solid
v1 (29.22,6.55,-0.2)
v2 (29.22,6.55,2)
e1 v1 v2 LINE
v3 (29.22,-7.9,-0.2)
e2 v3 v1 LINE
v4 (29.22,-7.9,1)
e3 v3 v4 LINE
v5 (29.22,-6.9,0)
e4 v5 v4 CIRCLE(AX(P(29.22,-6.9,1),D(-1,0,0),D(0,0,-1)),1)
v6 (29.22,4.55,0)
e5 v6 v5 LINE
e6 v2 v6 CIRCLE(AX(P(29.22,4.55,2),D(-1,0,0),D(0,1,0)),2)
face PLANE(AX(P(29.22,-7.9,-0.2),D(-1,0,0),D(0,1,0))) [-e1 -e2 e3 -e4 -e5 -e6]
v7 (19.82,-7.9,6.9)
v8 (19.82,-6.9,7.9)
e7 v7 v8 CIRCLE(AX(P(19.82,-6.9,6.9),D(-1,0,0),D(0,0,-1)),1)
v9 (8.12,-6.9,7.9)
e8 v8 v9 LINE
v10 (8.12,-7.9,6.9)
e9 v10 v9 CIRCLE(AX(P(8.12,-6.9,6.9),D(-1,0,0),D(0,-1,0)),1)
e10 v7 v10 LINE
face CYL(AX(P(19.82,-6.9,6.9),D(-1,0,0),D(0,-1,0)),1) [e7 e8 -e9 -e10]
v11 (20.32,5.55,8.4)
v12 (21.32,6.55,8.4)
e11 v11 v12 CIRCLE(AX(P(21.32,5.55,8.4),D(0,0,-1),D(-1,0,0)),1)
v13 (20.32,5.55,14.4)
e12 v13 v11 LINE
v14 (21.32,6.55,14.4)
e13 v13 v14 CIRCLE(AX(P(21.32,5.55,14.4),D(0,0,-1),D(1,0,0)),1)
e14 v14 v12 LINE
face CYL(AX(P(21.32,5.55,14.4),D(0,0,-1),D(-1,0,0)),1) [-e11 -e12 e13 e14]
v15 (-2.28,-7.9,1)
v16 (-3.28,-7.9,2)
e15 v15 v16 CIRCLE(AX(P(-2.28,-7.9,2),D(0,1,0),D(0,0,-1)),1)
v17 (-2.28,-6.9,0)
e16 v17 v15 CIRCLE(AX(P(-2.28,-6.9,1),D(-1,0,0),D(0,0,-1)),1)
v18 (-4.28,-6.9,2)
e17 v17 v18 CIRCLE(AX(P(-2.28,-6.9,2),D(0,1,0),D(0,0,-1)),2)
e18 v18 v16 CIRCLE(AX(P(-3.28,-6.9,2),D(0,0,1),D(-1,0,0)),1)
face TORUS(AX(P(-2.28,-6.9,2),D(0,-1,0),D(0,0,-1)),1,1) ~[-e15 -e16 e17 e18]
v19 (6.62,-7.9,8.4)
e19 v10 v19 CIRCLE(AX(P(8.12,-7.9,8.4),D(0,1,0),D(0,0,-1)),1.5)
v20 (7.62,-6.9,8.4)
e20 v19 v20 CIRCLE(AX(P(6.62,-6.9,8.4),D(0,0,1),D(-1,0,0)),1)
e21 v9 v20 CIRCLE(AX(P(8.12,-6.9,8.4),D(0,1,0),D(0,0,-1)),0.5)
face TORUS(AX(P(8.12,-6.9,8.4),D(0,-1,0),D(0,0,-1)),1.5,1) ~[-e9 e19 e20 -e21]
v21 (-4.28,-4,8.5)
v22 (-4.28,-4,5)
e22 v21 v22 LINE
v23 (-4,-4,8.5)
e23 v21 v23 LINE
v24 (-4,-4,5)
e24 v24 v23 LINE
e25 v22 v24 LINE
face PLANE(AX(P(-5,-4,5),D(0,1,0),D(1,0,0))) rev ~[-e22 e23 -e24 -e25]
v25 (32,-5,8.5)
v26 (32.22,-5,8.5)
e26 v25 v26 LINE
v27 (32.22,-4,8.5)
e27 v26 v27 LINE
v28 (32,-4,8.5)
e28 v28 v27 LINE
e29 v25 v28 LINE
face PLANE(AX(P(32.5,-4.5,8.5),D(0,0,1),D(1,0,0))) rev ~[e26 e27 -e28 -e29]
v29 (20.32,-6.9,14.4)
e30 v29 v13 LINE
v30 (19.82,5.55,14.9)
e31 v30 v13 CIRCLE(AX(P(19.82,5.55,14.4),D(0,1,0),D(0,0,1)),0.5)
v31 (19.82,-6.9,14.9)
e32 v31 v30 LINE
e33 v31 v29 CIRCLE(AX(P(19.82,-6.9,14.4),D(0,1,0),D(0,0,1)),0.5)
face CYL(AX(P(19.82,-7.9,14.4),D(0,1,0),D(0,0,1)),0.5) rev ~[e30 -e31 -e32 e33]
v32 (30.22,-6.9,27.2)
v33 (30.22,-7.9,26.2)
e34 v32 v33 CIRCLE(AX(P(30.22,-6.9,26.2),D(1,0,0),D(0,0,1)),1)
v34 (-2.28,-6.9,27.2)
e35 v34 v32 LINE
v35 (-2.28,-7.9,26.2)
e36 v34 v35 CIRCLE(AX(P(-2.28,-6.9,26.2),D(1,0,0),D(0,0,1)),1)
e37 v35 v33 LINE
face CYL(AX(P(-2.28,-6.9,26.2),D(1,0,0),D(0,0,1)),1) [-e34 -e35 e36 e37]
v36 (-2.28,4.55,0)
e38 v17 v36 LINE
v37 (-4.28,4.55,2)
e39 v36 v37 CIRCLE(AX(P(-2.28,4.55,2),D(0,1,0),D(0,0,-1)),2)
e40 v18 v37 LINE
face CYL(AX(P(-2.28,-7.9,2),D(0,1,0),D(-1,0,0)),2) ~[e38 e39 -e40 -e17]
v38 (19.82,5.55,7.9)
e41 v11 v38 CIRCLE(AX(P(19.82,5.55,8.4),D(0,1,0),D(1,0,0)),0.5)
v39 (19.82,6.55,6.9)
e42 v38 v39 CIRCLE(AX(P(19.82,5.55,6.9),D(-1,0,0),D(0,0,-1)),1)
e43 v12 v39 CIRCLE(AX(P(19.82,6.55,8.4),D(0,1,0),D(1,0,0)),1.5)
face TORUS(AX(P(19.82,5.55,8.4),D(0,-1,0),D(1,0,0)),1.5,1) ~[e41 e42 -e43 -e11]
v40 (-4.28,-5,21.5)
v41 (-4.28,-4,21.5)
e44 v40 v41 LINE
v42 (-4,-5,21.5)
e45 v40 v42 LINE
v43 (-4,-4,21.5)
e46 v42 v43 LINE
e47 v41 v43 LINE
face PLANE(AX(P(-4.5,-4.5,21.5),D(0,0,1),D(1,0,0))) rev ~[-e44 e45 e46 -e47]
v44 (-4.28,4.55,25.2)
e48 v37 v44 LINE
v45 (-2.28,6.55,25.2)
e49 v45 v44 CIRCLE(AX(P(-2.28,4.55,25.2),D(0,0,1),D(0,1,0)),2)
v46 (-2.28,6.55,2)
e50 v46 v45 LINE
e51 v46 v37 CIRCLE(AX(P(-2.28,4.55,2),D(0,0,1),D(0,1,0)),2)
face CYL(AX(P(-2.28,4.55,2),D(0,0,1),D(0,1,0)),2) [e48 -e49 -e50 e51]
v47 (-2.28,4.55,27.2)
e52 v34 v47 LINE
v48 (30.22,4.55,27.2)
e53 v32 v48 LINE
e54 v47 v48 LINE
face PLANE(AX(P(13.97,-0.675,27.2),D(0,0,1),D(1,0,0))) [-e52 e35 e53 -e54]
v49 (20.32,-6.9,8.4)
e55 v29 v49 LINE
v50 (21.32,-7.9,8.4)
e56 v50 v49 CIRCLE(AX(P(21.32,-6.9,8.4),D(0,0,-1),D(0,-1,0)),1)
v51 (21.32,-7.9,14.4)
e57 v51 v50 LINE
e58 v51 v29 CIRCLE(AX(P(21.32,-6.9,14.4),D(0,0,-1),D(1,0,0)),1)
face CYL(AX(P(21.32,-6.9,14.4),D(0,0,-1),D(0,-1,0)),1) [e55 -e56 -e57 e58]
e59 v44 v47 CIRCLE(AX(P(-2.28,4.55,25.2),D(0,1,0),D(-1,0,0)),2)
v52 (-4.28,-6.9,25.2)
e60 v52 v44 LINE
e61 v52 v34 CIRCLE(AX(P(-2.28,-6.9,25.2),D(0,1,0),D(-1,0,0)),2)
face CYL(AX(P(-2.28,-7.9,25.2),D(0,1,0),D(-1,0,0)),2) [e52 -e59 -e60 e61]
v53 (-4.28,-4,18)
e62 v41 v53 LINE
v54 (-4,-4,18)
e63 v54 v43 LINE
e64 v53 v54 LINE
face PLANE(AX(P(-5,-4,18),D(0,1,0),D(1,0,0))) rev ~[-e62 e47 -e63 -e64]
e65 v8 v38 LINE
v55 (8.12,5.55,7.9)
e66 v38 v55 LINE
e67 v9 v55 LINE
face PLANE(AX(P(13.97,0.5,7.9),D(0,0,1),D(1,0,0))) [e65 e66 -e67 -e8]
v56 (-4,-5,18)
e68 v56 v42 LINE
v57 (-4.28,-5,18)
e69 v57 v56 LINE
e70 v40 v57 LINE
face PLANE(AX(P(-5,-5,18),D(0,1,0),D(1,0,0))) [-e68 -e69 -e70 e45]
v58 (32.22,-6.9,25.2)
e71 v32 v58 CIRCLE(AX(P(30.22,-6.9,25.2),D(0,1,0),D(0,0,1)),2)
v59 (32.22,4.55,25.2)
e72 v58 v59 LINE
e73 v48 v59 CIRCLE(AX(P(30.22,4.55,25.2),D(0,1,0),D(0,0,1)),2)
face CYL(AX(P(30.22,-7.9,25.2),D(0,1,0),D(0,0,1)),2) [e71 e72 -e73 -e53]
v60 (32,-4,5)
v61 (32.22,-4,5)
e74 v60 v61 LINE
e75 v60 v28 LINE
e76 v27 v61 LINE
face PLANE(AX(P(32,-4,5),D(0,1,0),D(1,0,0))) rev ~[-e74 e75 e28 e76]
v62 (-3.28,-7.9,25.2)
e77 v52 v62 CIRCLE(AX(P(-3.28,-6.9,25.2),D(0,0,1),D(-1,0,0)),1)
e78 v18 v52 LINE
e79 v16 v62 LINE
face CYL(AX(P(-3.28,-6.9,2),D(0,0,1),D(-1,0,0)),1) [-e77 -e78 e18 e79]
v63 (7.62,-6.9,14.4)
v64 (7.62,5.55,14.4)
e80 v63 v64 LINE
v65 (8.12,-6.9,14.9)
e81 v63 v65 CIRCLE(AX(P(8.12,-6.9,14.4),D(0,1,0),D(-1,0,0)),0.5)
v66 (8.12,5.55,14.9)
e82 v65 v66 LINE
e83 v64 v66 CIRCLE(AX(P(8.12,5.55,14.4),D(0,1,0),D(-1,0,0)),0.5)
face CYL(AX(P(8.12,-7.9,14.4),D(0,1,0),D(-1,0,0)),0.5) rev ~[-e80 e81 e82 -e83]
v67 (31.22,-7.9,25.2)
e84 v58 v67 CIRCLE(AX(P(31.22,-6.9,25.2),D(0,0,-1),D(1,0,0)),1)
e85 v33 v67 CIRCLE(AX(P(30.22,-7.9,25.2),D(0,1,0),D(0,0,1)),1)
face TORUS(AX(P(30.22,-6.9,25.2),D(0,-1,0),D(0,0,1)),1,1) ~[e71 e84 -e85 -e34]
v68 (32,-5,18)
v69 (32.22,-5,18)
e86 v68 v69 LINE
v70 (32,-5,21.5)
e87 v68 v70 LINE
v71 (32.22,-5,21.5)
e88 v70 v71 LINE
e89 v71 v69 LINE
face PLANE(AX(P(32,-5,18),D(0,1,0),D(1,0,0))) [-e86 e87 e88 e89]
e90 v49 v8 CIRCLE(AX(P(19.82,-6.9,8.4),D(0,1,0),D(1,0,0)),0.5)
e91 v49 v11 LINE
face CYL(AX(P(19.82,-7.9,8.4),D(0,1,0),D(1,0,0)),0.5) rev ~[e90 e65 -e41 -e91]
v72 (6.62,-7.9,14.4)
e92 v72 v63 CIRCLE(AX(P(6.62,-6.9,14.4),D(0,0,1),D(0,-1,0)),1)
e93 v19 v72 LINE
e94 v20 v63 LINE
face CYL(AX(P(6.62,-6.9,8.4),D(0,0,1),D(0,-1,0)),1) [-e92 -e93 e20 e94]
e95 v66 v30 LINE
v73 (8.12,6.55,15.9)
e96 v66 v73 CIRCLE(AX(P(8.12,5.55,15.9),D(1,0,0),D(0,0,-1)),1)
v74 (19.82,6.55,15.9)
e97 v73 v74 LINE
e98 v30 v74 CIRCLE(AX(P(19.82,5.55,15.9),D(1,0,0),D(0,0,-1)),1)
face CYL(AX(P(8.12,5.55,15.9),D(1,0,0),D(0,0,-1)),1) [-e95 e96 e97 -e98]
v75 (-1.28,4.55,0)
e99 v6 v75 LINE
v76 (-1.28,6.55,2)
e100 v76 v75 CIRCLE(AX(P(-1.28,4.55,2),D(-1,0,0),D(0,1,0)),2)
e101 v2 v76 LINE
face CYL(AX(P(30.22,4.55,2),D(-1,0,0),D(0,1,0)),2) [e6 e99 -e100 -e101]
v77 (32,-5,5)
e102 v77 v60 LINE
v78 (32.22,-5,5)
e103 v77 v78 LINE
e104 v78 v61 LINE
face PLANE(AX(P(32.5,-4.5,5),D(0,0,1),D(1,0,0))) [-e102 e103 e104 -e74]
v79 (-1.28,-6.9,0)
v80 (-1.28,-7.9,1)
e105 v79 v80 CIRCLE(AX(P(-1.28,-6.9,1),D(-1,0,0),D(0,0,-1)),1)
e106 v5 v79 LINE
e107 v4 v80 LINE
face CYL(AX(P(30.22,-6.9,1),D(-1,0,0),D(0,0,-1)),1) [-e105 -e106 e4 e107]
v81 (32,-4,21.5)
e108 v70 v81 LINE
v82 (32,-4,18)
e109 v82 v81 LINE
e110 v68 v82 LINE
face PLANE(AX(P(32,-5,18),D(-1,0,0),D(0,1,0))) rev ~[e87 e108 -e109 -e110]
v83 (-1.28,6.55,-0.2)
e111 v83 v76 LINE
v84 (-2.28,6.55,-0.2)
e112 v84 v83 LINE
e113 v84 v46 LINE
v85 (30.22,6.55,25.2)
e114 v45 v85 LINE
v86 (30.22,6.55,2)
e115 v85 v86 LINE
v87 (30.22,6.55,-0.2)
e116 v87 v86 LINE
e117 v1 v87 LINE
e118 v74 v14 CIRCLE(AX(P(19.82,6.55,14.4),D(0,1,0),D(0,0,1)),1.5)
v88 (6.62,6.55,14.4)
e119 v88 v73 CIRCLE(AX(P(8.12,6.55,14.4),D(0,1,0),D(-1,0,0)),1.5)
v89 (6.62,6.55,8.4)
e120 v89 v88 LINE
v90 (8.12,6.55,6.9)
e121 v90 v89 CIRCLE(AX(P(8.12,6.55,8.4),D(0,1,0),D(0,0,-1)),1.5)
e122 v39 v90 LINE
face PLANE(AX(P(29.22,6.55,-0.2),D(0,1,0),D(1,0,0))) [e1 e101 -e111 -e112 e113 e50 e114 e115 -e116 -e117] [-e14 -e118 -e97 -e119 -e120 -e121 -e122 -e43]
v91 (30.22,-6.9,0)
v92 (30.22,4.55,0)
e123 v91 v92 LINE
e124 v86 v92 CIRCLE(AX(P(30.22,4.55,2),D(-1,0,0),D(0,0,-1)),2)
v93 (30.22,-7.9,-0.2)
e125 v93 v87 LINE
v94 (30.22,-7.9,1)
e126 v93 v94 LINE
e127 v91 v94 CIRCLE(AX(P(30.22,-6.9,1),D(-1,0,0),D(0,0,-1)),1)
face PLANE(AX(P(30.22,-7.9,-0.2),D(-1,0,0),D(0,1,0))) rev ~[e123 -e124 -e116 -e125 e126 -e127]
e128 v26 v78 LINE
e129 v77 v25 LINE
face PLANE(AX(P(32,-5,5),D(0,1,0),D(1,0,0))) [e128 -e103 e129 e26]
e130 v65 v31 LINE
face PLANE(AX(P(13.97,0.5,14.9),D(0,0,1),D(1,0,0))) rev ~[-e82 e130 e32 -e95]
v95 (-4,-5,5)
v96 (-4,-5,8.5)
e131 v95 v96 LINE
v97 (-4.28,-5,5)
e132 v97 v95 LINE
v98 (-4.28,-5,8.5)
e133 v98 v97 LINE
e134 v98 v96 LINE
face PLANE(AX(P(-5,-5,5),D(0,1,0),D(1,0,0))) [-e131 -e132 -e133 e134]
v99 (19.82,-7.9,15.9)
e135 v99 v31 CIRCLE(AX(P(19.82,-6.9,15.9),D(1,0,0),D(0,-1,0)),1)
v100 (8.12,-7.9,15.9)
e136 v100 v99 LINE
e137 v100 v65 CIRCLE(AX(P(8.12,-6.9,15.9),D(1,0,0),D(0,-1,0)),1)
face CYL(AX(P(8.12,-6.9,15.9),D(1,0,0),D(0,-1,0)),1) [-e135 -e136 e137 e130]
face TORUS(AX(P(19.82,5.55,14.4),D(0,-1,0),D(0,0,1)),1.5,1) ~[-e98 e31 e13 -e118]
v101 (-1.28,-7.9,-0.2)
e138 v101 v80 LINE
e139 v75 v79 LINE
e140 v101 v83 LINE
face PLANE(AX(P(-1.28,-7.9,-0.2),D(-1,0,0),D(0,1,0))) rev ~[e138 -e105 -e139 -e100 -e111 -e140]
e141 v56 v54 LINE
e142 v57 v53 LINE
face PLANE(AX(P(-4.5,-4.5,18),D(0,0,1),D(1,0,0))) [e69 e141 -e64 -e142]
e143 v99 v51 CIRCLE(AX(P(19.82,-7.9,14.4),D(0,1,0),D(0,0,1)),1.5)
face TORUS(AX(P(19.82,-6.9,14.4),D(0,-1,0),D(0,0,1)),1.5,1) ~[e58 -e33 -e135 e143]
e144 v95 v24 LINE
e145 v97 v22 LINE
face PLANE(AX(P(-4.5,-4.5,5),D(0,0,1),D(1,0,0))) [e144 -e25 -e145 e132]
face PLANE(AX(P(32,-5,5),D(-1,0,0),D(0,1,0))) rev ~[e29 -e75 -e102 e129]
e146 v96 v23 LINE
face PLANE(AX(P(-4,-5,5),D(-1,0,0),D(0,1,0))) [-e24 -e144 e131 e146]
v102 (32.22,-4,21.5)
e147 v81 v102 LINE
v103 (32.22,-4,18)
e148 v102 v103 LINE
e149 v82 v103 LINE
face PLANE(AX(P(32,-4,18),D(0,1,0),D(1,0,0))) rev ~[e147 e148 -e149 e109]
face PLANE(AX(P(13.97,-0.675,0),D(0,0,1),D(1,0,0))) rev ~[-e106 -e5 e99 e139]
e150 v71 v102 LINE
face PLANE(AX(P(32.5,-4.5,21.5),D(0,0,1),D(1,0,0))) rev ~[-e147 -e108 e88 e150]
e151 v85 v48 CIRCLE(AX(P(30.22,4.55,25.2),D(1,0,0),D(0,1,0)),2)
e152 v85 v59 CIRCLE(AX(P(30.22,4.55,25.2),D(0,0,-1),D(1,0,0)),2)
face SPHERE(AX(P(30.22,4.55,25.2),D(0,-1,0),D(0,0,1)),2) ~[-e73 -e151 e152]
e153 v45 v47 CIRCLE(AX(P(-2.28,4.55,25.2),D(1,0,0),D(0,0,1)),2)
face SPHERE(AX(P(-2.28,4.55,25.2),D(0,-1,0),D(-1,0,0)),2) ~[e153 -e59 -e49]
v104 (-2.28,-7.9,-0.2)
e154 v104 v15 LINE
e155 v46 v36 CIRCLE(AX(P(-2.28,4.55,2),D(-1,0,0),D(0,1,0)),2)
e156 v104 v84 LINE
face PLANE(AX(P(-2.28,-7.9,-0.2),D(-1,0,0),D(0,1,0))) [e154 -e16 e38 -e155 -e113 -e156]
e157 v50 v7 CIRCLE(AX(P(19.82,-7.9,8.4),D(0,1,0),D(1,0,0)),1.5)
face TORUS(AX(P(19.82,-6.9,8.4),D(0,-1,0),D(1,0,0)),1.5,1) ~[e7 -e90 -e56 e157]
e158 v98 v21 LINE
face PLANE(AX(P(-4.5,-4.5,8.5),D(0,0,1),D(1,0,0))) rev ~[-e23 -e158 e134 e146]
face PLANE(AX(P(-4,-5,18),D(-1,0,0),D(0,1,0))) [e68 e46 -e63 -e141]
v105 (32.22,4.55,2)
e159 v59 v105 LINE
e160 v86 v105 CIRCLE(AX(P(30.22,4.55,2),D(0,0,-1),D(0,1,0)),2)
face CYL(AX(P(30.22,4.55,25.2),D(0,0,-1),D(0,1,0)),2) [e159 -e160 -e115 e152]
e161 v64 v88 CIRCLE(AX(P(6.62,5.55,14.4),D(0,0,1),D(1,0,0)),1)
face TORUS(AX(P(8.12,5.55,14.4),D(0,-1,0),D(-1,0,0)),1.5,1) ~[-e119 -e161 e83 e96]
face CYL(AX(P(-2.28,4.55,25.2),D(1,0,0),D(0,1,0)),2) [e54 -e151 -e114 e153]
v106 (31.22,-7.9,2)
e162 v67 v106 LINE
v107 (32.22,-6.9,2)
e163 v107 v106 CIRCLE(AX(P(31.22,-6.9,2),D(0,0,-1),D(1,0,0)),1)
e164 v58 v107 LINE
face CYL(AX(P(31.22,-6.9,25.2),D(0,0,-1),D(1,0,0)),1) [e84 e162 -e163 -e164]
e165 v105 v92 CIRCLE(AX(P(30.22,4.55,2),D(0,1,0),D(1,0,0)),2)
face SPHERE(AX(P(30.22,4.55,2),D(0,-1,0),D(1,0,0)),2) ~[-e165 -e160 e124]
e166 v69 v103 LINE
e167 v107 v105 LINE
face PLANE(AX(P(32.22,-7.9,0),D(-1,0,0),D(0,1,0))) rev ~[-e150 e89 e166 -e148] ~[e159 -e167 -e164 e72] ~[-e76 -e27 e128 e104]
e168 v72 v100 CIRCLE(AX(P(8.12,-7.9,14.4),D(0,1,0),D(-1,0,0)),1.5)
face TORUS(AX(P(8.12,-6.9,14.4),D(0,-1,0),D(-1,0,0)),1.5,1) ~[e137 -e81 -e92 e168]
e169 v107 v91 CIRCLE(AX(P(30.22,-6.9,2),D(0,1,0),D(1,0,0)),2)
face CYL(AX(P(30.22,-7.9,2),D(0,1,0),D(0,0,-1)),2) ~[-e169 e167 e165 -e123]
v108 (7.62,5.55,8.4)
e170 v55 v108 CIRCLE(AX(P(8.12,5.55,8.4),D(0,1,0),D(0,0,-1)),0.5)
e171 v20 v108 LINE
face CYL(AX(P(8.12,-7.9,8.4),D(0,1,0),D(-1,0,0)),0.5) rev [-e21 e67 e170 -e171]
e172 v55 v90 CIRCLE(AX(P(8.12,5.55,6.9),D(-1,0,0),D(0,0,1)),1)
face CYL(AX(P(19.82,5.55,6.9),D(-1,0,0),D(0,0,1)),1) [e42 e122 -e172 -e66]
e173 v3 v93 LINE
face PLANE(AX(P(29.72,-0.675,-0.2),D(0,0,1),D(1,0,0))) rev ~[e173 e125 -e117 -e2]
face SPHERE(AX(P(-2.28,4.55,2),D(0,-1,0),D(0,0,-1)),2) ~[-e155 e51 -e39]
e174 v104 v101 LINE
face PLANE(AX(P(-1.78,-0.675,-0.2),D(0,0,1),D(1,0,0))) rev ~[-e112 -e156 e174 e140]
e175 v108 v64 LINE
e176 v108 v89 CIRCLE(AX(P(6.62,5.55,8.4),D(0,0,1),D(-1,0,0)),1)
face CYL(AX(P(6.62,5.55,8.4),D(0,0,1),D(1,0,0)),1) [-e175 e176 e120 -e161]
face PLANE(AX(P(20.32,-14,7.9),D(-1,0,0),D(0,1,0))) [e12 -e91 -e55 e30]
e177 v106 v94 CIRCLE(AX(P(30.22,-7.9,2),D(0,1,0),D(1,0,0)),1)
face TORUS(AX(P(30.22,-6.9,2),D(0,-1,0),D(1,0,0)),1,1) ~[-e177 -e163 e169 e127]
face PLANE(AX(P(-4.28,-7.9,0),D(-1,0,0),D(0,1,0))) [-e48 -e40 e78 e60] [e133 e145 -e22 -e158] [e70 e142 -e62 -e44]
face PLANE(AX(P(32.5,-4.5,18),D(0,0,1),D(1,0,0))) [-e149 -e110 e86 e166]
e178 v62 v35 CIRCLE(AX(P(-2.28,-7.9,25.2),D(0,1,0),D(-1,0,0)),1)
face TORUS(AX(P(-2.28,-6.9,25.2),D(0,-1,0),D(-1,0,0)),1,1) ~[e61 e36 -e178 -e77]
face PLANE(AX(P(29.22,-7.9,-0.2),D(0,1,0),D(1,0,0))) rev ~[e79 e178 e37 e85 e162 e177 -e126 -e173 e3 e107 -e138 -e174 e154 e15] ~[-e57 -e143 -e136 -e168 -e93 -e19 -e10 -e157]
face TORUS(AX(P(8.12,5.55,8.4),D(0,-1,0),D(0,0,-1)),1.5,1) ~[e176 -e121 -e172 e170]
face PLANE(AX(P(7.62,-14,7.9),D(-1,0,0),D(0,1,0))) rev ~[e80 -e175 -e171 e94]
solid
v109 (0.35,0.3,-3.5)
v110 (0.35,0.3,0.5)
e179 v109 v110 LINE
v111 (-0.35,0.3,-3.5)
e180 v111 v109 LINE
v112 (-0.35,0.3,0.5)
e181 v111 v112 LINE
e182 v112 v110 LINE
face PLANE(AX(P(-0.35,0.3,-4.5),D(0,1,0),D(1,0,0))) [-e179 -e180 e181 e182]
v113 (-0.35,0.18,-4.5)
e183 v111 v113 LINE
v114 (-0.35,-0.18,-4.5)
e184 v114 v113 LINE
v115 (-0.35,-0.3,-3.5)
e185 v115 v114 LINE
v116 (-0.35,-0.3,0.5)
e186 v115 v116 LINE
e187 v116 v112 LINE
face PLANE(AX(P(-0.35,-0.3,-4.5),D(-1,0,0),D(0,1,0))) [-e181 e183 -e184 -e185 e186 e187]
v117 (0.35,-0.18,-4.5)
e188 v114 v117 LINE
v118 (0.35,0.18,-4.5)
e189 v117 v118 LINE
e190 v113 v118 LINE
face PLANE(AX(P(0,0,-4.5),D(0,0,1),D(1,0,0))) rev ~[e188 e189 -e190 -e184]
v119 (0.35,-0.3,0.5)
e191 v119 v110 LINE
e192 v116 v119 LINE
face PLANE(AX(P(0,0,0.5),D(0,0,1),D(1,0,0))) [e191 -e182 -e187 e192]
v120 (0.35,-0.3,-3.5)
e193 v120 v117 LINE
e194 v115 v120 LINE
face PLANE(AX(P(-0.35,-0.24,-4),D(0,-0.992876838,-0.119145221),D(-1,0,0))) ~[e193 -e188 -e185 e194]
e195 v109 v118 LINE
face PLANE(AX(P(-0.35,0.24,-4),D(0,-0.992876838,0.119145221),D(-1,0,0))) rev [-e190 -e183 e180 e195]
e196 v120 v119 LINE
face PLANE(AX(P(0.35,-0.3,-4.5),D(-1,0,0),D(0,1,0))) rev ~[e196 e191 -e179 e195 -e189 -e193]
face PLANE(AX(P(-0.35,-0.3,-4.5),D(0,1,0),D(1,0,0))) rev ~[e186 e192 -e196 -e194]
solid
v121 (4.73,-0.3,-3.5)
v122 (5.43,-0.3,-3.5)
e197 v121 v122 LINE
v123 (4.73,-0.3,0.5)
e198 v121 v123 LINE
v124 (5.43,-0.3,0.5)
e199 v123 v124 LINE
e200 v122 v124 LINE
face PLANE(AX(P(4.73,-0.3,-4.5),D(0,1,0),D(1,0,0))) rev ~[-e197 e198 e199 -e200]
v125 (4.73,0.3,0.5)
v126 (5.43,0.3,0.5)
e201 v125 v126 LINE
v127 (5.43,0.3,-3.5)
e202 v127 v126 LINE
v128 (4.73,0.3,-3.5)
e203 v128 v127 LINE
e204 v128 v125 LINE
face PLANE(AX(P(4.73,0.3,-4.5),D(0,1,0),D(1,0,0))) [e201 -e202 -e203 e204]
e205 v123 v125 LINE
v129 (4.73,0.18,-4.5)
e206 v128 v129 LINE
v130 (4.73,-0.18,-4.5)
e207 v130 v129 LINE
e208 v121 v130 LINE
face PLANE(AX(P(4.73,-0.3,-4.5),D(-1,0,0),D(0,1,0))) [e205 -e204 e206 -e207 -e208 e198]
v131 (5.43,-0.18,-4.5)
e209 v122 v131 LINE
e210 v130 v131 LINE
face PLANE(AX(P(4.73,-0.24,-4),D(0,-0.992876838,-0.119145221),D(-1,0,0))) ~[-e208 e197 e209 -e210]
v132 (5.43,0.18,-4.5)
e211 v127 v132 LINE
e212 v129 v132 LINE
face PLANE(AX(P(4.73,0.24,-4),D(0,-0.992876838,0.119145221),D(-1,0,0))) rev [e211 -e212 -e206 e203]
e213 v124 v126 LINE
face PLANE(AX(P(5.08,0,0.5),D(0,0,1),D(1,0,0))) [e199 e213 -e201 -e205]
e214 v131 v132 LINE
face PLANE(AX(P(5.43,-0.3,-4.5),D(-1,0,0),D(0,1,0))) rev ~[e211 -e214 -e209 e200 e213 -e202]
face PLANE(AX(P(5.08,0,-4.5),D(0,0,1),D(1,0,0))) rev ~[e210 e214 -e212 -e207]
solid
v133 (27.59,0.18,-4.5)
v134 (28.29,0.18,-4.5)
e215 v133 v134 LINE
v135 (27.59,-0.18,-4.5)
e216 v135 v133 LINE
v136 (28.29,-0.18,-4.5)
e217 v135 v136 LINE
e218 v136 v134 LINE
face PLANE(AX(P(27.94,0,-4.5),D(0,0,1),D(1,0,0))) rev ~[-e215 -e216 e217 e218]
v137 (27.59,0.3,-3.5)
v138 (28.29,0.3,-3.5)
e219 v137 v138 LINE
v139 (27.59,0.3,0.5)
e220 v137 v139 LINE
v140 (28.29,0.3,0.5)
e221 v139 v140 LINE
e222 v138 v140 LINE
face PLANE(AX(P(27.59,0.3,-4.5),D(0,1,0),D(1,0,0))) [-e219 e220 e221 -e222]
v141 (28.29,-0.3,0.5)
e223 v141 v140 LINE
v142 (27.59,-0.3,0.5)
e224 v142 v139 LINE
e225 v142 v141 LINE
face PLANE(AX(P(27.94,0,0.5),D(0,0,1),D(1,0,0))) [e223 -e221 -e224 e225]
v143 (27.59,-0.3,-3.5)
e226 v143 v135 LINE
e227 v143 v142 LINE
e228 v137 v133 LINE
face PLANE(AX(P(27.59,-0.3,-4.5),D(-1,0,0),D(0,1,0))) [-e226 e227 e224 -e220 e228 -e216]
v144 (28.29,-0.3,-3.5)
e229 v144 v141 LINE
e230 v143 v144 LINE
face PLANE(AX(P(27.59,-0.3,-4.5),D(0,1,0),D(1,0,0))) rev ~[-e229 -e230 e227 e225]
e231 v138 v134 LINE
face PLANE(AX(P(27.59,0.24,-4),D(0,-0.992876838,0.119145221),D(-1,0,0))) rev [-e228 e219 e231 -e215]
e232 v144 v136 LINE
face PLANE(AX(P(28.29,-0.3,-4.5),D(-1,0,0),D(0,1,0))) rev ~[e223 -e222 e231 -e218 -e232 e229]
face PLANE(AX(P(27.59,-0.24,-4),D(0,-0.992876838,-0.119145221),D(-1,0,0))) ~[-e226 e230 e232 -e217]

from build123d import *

# Parameters (mm, degrees)
BOX002_W           = 0.7
BOX002_H           = 0.6
BOX002_DEPTH       = 5
CHAMFER_1_SIZE2    = 0.12
CHAMFER_1_SIZE     = 1
CHAMFER_2_SIZE2    = 0.12
CHAMFER_2_SIZE     = 1
BOX001_W           = 0.7
BOX001_H           = 0.6
BOX001_DEPTH       = 5
CHAMFER001_1_SIZE2 = 0.12
CHAMFER001_1_SIZE  = 1
CHAMFER001_2_SIZE2 = 0.12
CHAMFER001_2_SIZE  = 1
BOX_W              = 0.7
BOX_H              = 0.6
BOX_DEPTH          = 5
CHAMFER002_1_SIZE2 = 0.12
CHAMFER002_1_SIZE  = 1
CHAMFER002_2_SIZE2 = 0.12
CHAMFER002_2_SIZE  = 1
BOX009_W           = 1
BOX009_H           = 1
BOX009_DEPTH       = 3.5
BOX008_W           = 1
BOX008_H           = 1
BOX008_DEPTH       = 3.5
BOX007_W           = 1
BOX007_H           = 1
BOX007_DEPTH       = 3.5
BOX006_W           = 1
BOX006_H           = 1
BOX006_DEPTH       = 3.5
BOX004_W           = 1
BOX004_H           = 14.45
BOX004_DEPTH       = 2.2
BOX005_W           = 1
BOX005_H           = 14.45
BOX005_DEPTH       = 2.2
BOX003_W           = 12.7
BOX003_H           = 29
BOX003_DEPTH       = 7
SKETCH_W           = 36.5
SKETCH_H           = 14.45
PAD_DEPTH          = 27.2
FILLET_R           = 0.5
FILLET001_R        = 1
FILLET002_R        = 1
FILLET003_R        = 2
FILLET004_R        = 2
FILLET005_R        = 1


with BuildPart() as chamfer_body:
    # Box002 → Box002 (new body)
    with BuildSketch(Plane(origin=(27.59, -0.3, -4.5), x_dir=(1, 0, 0), z_dir=(0, 0, 1))):
        with Locations((0.35, 0.3)):
            Rectangle(BOX002_W, BOX002_H)
    extrude(amount=BOX002_DEPTH)

    # Chamfer 1
    chamfer_1_edges = [chamfer_body.edges().sort_by_distance(p)[0] for p in [
        (27.94, 0.3, -4.5),
    ]]
    chamfer_1_side = chamfer_body.faces().sort_by_distance((27.94, 0.3, -2))[0]
    chamfer(chamfer_1_edges, length=CHAMFER_1_SIZE, length2=CHAMFER_1_SIZE2, reference=chamfer_1_side)

    # Chamfer 2
    chamfer_2_edges = [chamfer_body.edges().sort_by_distance(p)[0] for p in [
        (27.94, -0.3, -4.5),
    ]]
    chamfer_2_side = chamfer_body.faces().sort_by_distance((27.94, -0.3, -2))[0]
    chamfer(chamfer_2_edges, length=CHAMFER_2_SIZE, length2=CHAMFER_2_SIZE2, reference=chamfer_2_side)


with BuildPart() as chamfer001:
    # Box001 → Box001 (new body)
    with BuildSketch(Plane(origin=(4.73, -0.3, -4.5), x_dir=(1, 0, 0), z_dir=(0, 0, 1))):
        with Locations((0.35, 0.3)):
            Rectangle(BOX001_W, BOX001_H)
    extrude(amount=BOX001_DEPTH)

    # Chamfer001 1
    chamfer001_1_edges = [chamfer001.edges().sort_by_distance(p)[0] for p in [
        (5.08, 0.3, -4.5),
    ]]
    chamfer001_1_side = chamfer001.faces().sort_by_distance((5.08, 0.3, -2))[0]
    chamfer(chamfer001_1_edges, length=CHAMFER001_1_SIZE, length2=CHAMFER001_1_SIZE2, reference=chamfer001_1_side)

    # Chamfer001 2
    chamfer001_2_edges = [chamfer001.edges().sort_by_distance(p)[0] for p in [
        (5.08, -0.3, -4.5),
    ]]
    chamfer001_2_side = chamfer001.faces().sort_by_distance((5.08, -0.3, -2))[0]
    chamfer(chamfer001_2_edges, length=CHAMFER001_2_SIZE, length2=CHAMFER001_2_SIZE2, reference=chamfer001_2_side)


with BuildPart() as chamfer002:
    # Box → Box (new body)
    with BuildSketch(Plane(origin=(-0.35, -0.3, -4.5), x_dir=(1, 0, 0), z_dir=(0, 0, 1))):
        with Locations((0.35, 0.3)):
            Rectangle(BOX_W, BOX_H)
    extrude(amount=BOX_DEPTH)

    # Chamfer002 1
    chamfer002_1_edges = [chamfer002.edges().sort_by_distance(p)[0] for p in [
        (0, 0.3, -4.5),
    ]]
    chamfer002_1_side = chamfer002.faces().sort_by_distance((0, 0.3, -2))[0]
    chamfer(chamfer002_1_edges, length=CHAMFER002_1_SIZE, length2=CHAMFER002_1_SIZE2, reference=chamfer002_1_side)

    # Chamfer002 2
    chamfer002_2_edges = [chamfer002.edges().sort_by_distance(p)[0] for p in [
        (0, -0.3, -4.5),
    ]]
    chamfer002_2_side = chamfer002.faces().sort_by_distance((0, -0.3, -2))[0]
    chamfer(chamfer002_2_edges, length=CHAMFER002_2_SIZE, length2=CHAMFER002_2_SIZE2, reference=chamfer002_2_side)


with BuildPart() as kub009:
    # Box009 → Box009 (new body)
    with BuildSketch(Plane(origin=(-5, -5, 18), x_dir=(1, 0, 0), z_dir=(0, 0, 1))):
        with Locations((0.5, 0.5)):
            Rectangle(BOX009_W, BOX009_H)
    extrude(amount=BOX009_DEPTH)


with BuildPart() as kub008:
    # Box008 → Box008 (new body)
    with BuildSketch(Plane(origin=(-5, -5, 5), x_dir=(1, 0, 0), z_dir=(0, 0, 1))):
        with Locations((0.5, 0.5)):
            Rectangle(BOX008_W, BOX008_H)
    extrude(amount=BOX008_DEPTH)


with BuildPart() as kub007:
    # Box007 → Box007 (new body)
    with BuildSketch(Plane(origin=(32, -5, 18), x_dir=(1, 0, 0), z_dir=(0, 0, 1))):
        with Locations((0.5, 0.5)):
            Rectangle(BOX007_W, BOX007_H)
    extrude(amount=BOX007_DEPTH)


with BuildPart() as kub006:
    # Box006 → Box006 (new body)
    with BuildSketch(Plane(origin=(32, -5, 5), x_dir=(1, 0, 0), z_dir=(0, 0, 1))):
        with Locations((0.5, 0.5)):
            Rectangle(BOX006_W, BOX006_H)
    extrude(amount=BOX006_DEPTH)


with BuildPart() as kub004:
    # Box004 → Box004 (new body)
    with BuildSketch(Plane(origin=(-2.28, -7.9, -0.2), x_dir=(1, 0, 0), z_dir=(0, 0, 1))):
        with Locations((0.5, 7.225)):
            Rectangle(BOX004_W, BOX004_H)
    extrude(amount=BOX004_DEPTH)


with BuildPart() as kub005:
    # Box005 → Box005 (new body)
    with BuildSketch(Plane(origin=(29.22, -7.9, -0.2), x_dir=(1, 0, 0), z_dir=(0, 0, 1))):
        with Locations((0.5, 7.225)):
            Rectangle(BOX005_W, BOX005_H)
    extrude(amount=BOX005_DEPTH)


with BuildPart() as kub003:
    # Box003 → Box003 (new body)
    with BuildSketch(Plane(origin=(7.62, -14, 7.9), x_dir=(1, 0, 0), z_dir=(0, 0, 1))):
        with Locations((6.35, 14.5)):
            Rectangle(BOX003_W, BOX003_H)
    extrude(amount=BOX003_DEPTH)


with BuildPart() as cut004:
    # Sketch → Pad (new body)
    with BuildSketch(Plane.XY):
        with Locations((13.97, -0.675)):
            Rectangle(SKETCH_W, SKETCH_H)
    extrude(amount=PAD_DEPTH)

    # Cut: cut Kub003
    add(kub003.part, mode=Mode.SUBTRACT)

    # Fillet
    fillet_edges = [cut004.edges().sort_by_distance(p)[0] for p in [
        (7.62, -0.675, 14.9),
        (20.32, -0.675, 14.9),
        (20.32, -0.675, 7.9),
        (7.62, -0.675, 7.9),
    ]]
    fillet(fillet_edges, radius=FILLET_R)

    # Fillet001
    fillet001_edges = [cut004.edges().sort_by_distance(p)[0] for p in [
        (13.97, -7.9, 14.9),
        (7.766447, -7.9, 14.753553),
        (20.173553, -7.9, 14.753553),
        (7.62, -7.9, 11.4),
        (20.32, -7.9, 11.4),
        (7.766447, -7.9, 8.046447),
        (20.173553, -7.9, 8.046447),
        (13.97, -7.9, 7.9),
    ]]
    fillet(fillet001_edges, radius=FILLET001_R)

    # Fillet002
    fillet002_edges = [cut004.edges().sort_by_distance(p)[0] for p in [
        (13.97, 6.55, 14.9),
        (20.173553, 6.55, 14.753553),
        (7.62, 6.55, 11.4),
        (20.32, 6.55, 11.4),
        (7.766447, 6.55, 8.046447),
        (20.173553, 6.55, 8.046447),
        (13.97, 6.55, 7.9),
    ]]
    fillet(fillet002_edges, radius=FILLET002_R)

    # Fillet003
    fillet003_edges = [cut004.edges().sort_by_distance(p)[0] for p in [
        (-4.28, -0.675, 0),
        (-4.28, -0.675, 27.2),
        (32.22, -0.675, 0),
        (32.22, -0.675, 27.2),
    ]]
    fillet(fillet003_edges, radius=FILLET003_R)

    # Fillet004
    fillet004_edges = [cut004.edges().sort_by_distance(p)[0] for p in [
        (-4.28, 6.55, 13.6),
        (-3.694214, 6.55, 0.585786),
        (-3.694214, 6.55, 26.614214),
        (13.97, 6.55, 0),
        (13.97, 6.55, 27.2),
        (31.634214, 6.55, 0.585786),
        (31.634214, 6.55, 26.614214),
        (32.22, 6.55, 13.6),
    ]]
    fillet(fillet004_edges, radius=FILLET004_R)

    # Fillet005
    fillet005_edges = [cut004.edges().sort_by_distance(p)[0] for p in [
        (-4.28, -7.9, 13.6),
        (13.97, -7.9, 0),
        (13.97, -7.9, 27.2),
        (32.22, -7.9, 13.6),
        (-3.694214, -7.9, 0.585786),
        (31.634214, -7.9, 0.585786),
        (31.634214, -7.9, 26.614214),
        (-3.694214, -7.9, 26.614214),
    ]]
    fillet(fillet005_edges, radius=FILLET005_R)

    # Fusion: union Kub004, Kub005
    add(kub004.part)
    add(kub005.part)

    # Cut001: cut Kub006
    add(kub006.part, mode=Mode.SUBTRACT)

    # Cut002: cut Kub007
    add(kub007.part, mode=Mode.SUBTRACT)

    # Cut003: cut Kub008
    add(kub008.part, mode=Mode.SUBTRACT)

    # Cut004: cut Kub009
    add(kub009.part, mode=Mode.SUBTRACT)


solid = Compound([chamfer_body.part, chamfer001.part, chamfer002.part, cut004.part])
